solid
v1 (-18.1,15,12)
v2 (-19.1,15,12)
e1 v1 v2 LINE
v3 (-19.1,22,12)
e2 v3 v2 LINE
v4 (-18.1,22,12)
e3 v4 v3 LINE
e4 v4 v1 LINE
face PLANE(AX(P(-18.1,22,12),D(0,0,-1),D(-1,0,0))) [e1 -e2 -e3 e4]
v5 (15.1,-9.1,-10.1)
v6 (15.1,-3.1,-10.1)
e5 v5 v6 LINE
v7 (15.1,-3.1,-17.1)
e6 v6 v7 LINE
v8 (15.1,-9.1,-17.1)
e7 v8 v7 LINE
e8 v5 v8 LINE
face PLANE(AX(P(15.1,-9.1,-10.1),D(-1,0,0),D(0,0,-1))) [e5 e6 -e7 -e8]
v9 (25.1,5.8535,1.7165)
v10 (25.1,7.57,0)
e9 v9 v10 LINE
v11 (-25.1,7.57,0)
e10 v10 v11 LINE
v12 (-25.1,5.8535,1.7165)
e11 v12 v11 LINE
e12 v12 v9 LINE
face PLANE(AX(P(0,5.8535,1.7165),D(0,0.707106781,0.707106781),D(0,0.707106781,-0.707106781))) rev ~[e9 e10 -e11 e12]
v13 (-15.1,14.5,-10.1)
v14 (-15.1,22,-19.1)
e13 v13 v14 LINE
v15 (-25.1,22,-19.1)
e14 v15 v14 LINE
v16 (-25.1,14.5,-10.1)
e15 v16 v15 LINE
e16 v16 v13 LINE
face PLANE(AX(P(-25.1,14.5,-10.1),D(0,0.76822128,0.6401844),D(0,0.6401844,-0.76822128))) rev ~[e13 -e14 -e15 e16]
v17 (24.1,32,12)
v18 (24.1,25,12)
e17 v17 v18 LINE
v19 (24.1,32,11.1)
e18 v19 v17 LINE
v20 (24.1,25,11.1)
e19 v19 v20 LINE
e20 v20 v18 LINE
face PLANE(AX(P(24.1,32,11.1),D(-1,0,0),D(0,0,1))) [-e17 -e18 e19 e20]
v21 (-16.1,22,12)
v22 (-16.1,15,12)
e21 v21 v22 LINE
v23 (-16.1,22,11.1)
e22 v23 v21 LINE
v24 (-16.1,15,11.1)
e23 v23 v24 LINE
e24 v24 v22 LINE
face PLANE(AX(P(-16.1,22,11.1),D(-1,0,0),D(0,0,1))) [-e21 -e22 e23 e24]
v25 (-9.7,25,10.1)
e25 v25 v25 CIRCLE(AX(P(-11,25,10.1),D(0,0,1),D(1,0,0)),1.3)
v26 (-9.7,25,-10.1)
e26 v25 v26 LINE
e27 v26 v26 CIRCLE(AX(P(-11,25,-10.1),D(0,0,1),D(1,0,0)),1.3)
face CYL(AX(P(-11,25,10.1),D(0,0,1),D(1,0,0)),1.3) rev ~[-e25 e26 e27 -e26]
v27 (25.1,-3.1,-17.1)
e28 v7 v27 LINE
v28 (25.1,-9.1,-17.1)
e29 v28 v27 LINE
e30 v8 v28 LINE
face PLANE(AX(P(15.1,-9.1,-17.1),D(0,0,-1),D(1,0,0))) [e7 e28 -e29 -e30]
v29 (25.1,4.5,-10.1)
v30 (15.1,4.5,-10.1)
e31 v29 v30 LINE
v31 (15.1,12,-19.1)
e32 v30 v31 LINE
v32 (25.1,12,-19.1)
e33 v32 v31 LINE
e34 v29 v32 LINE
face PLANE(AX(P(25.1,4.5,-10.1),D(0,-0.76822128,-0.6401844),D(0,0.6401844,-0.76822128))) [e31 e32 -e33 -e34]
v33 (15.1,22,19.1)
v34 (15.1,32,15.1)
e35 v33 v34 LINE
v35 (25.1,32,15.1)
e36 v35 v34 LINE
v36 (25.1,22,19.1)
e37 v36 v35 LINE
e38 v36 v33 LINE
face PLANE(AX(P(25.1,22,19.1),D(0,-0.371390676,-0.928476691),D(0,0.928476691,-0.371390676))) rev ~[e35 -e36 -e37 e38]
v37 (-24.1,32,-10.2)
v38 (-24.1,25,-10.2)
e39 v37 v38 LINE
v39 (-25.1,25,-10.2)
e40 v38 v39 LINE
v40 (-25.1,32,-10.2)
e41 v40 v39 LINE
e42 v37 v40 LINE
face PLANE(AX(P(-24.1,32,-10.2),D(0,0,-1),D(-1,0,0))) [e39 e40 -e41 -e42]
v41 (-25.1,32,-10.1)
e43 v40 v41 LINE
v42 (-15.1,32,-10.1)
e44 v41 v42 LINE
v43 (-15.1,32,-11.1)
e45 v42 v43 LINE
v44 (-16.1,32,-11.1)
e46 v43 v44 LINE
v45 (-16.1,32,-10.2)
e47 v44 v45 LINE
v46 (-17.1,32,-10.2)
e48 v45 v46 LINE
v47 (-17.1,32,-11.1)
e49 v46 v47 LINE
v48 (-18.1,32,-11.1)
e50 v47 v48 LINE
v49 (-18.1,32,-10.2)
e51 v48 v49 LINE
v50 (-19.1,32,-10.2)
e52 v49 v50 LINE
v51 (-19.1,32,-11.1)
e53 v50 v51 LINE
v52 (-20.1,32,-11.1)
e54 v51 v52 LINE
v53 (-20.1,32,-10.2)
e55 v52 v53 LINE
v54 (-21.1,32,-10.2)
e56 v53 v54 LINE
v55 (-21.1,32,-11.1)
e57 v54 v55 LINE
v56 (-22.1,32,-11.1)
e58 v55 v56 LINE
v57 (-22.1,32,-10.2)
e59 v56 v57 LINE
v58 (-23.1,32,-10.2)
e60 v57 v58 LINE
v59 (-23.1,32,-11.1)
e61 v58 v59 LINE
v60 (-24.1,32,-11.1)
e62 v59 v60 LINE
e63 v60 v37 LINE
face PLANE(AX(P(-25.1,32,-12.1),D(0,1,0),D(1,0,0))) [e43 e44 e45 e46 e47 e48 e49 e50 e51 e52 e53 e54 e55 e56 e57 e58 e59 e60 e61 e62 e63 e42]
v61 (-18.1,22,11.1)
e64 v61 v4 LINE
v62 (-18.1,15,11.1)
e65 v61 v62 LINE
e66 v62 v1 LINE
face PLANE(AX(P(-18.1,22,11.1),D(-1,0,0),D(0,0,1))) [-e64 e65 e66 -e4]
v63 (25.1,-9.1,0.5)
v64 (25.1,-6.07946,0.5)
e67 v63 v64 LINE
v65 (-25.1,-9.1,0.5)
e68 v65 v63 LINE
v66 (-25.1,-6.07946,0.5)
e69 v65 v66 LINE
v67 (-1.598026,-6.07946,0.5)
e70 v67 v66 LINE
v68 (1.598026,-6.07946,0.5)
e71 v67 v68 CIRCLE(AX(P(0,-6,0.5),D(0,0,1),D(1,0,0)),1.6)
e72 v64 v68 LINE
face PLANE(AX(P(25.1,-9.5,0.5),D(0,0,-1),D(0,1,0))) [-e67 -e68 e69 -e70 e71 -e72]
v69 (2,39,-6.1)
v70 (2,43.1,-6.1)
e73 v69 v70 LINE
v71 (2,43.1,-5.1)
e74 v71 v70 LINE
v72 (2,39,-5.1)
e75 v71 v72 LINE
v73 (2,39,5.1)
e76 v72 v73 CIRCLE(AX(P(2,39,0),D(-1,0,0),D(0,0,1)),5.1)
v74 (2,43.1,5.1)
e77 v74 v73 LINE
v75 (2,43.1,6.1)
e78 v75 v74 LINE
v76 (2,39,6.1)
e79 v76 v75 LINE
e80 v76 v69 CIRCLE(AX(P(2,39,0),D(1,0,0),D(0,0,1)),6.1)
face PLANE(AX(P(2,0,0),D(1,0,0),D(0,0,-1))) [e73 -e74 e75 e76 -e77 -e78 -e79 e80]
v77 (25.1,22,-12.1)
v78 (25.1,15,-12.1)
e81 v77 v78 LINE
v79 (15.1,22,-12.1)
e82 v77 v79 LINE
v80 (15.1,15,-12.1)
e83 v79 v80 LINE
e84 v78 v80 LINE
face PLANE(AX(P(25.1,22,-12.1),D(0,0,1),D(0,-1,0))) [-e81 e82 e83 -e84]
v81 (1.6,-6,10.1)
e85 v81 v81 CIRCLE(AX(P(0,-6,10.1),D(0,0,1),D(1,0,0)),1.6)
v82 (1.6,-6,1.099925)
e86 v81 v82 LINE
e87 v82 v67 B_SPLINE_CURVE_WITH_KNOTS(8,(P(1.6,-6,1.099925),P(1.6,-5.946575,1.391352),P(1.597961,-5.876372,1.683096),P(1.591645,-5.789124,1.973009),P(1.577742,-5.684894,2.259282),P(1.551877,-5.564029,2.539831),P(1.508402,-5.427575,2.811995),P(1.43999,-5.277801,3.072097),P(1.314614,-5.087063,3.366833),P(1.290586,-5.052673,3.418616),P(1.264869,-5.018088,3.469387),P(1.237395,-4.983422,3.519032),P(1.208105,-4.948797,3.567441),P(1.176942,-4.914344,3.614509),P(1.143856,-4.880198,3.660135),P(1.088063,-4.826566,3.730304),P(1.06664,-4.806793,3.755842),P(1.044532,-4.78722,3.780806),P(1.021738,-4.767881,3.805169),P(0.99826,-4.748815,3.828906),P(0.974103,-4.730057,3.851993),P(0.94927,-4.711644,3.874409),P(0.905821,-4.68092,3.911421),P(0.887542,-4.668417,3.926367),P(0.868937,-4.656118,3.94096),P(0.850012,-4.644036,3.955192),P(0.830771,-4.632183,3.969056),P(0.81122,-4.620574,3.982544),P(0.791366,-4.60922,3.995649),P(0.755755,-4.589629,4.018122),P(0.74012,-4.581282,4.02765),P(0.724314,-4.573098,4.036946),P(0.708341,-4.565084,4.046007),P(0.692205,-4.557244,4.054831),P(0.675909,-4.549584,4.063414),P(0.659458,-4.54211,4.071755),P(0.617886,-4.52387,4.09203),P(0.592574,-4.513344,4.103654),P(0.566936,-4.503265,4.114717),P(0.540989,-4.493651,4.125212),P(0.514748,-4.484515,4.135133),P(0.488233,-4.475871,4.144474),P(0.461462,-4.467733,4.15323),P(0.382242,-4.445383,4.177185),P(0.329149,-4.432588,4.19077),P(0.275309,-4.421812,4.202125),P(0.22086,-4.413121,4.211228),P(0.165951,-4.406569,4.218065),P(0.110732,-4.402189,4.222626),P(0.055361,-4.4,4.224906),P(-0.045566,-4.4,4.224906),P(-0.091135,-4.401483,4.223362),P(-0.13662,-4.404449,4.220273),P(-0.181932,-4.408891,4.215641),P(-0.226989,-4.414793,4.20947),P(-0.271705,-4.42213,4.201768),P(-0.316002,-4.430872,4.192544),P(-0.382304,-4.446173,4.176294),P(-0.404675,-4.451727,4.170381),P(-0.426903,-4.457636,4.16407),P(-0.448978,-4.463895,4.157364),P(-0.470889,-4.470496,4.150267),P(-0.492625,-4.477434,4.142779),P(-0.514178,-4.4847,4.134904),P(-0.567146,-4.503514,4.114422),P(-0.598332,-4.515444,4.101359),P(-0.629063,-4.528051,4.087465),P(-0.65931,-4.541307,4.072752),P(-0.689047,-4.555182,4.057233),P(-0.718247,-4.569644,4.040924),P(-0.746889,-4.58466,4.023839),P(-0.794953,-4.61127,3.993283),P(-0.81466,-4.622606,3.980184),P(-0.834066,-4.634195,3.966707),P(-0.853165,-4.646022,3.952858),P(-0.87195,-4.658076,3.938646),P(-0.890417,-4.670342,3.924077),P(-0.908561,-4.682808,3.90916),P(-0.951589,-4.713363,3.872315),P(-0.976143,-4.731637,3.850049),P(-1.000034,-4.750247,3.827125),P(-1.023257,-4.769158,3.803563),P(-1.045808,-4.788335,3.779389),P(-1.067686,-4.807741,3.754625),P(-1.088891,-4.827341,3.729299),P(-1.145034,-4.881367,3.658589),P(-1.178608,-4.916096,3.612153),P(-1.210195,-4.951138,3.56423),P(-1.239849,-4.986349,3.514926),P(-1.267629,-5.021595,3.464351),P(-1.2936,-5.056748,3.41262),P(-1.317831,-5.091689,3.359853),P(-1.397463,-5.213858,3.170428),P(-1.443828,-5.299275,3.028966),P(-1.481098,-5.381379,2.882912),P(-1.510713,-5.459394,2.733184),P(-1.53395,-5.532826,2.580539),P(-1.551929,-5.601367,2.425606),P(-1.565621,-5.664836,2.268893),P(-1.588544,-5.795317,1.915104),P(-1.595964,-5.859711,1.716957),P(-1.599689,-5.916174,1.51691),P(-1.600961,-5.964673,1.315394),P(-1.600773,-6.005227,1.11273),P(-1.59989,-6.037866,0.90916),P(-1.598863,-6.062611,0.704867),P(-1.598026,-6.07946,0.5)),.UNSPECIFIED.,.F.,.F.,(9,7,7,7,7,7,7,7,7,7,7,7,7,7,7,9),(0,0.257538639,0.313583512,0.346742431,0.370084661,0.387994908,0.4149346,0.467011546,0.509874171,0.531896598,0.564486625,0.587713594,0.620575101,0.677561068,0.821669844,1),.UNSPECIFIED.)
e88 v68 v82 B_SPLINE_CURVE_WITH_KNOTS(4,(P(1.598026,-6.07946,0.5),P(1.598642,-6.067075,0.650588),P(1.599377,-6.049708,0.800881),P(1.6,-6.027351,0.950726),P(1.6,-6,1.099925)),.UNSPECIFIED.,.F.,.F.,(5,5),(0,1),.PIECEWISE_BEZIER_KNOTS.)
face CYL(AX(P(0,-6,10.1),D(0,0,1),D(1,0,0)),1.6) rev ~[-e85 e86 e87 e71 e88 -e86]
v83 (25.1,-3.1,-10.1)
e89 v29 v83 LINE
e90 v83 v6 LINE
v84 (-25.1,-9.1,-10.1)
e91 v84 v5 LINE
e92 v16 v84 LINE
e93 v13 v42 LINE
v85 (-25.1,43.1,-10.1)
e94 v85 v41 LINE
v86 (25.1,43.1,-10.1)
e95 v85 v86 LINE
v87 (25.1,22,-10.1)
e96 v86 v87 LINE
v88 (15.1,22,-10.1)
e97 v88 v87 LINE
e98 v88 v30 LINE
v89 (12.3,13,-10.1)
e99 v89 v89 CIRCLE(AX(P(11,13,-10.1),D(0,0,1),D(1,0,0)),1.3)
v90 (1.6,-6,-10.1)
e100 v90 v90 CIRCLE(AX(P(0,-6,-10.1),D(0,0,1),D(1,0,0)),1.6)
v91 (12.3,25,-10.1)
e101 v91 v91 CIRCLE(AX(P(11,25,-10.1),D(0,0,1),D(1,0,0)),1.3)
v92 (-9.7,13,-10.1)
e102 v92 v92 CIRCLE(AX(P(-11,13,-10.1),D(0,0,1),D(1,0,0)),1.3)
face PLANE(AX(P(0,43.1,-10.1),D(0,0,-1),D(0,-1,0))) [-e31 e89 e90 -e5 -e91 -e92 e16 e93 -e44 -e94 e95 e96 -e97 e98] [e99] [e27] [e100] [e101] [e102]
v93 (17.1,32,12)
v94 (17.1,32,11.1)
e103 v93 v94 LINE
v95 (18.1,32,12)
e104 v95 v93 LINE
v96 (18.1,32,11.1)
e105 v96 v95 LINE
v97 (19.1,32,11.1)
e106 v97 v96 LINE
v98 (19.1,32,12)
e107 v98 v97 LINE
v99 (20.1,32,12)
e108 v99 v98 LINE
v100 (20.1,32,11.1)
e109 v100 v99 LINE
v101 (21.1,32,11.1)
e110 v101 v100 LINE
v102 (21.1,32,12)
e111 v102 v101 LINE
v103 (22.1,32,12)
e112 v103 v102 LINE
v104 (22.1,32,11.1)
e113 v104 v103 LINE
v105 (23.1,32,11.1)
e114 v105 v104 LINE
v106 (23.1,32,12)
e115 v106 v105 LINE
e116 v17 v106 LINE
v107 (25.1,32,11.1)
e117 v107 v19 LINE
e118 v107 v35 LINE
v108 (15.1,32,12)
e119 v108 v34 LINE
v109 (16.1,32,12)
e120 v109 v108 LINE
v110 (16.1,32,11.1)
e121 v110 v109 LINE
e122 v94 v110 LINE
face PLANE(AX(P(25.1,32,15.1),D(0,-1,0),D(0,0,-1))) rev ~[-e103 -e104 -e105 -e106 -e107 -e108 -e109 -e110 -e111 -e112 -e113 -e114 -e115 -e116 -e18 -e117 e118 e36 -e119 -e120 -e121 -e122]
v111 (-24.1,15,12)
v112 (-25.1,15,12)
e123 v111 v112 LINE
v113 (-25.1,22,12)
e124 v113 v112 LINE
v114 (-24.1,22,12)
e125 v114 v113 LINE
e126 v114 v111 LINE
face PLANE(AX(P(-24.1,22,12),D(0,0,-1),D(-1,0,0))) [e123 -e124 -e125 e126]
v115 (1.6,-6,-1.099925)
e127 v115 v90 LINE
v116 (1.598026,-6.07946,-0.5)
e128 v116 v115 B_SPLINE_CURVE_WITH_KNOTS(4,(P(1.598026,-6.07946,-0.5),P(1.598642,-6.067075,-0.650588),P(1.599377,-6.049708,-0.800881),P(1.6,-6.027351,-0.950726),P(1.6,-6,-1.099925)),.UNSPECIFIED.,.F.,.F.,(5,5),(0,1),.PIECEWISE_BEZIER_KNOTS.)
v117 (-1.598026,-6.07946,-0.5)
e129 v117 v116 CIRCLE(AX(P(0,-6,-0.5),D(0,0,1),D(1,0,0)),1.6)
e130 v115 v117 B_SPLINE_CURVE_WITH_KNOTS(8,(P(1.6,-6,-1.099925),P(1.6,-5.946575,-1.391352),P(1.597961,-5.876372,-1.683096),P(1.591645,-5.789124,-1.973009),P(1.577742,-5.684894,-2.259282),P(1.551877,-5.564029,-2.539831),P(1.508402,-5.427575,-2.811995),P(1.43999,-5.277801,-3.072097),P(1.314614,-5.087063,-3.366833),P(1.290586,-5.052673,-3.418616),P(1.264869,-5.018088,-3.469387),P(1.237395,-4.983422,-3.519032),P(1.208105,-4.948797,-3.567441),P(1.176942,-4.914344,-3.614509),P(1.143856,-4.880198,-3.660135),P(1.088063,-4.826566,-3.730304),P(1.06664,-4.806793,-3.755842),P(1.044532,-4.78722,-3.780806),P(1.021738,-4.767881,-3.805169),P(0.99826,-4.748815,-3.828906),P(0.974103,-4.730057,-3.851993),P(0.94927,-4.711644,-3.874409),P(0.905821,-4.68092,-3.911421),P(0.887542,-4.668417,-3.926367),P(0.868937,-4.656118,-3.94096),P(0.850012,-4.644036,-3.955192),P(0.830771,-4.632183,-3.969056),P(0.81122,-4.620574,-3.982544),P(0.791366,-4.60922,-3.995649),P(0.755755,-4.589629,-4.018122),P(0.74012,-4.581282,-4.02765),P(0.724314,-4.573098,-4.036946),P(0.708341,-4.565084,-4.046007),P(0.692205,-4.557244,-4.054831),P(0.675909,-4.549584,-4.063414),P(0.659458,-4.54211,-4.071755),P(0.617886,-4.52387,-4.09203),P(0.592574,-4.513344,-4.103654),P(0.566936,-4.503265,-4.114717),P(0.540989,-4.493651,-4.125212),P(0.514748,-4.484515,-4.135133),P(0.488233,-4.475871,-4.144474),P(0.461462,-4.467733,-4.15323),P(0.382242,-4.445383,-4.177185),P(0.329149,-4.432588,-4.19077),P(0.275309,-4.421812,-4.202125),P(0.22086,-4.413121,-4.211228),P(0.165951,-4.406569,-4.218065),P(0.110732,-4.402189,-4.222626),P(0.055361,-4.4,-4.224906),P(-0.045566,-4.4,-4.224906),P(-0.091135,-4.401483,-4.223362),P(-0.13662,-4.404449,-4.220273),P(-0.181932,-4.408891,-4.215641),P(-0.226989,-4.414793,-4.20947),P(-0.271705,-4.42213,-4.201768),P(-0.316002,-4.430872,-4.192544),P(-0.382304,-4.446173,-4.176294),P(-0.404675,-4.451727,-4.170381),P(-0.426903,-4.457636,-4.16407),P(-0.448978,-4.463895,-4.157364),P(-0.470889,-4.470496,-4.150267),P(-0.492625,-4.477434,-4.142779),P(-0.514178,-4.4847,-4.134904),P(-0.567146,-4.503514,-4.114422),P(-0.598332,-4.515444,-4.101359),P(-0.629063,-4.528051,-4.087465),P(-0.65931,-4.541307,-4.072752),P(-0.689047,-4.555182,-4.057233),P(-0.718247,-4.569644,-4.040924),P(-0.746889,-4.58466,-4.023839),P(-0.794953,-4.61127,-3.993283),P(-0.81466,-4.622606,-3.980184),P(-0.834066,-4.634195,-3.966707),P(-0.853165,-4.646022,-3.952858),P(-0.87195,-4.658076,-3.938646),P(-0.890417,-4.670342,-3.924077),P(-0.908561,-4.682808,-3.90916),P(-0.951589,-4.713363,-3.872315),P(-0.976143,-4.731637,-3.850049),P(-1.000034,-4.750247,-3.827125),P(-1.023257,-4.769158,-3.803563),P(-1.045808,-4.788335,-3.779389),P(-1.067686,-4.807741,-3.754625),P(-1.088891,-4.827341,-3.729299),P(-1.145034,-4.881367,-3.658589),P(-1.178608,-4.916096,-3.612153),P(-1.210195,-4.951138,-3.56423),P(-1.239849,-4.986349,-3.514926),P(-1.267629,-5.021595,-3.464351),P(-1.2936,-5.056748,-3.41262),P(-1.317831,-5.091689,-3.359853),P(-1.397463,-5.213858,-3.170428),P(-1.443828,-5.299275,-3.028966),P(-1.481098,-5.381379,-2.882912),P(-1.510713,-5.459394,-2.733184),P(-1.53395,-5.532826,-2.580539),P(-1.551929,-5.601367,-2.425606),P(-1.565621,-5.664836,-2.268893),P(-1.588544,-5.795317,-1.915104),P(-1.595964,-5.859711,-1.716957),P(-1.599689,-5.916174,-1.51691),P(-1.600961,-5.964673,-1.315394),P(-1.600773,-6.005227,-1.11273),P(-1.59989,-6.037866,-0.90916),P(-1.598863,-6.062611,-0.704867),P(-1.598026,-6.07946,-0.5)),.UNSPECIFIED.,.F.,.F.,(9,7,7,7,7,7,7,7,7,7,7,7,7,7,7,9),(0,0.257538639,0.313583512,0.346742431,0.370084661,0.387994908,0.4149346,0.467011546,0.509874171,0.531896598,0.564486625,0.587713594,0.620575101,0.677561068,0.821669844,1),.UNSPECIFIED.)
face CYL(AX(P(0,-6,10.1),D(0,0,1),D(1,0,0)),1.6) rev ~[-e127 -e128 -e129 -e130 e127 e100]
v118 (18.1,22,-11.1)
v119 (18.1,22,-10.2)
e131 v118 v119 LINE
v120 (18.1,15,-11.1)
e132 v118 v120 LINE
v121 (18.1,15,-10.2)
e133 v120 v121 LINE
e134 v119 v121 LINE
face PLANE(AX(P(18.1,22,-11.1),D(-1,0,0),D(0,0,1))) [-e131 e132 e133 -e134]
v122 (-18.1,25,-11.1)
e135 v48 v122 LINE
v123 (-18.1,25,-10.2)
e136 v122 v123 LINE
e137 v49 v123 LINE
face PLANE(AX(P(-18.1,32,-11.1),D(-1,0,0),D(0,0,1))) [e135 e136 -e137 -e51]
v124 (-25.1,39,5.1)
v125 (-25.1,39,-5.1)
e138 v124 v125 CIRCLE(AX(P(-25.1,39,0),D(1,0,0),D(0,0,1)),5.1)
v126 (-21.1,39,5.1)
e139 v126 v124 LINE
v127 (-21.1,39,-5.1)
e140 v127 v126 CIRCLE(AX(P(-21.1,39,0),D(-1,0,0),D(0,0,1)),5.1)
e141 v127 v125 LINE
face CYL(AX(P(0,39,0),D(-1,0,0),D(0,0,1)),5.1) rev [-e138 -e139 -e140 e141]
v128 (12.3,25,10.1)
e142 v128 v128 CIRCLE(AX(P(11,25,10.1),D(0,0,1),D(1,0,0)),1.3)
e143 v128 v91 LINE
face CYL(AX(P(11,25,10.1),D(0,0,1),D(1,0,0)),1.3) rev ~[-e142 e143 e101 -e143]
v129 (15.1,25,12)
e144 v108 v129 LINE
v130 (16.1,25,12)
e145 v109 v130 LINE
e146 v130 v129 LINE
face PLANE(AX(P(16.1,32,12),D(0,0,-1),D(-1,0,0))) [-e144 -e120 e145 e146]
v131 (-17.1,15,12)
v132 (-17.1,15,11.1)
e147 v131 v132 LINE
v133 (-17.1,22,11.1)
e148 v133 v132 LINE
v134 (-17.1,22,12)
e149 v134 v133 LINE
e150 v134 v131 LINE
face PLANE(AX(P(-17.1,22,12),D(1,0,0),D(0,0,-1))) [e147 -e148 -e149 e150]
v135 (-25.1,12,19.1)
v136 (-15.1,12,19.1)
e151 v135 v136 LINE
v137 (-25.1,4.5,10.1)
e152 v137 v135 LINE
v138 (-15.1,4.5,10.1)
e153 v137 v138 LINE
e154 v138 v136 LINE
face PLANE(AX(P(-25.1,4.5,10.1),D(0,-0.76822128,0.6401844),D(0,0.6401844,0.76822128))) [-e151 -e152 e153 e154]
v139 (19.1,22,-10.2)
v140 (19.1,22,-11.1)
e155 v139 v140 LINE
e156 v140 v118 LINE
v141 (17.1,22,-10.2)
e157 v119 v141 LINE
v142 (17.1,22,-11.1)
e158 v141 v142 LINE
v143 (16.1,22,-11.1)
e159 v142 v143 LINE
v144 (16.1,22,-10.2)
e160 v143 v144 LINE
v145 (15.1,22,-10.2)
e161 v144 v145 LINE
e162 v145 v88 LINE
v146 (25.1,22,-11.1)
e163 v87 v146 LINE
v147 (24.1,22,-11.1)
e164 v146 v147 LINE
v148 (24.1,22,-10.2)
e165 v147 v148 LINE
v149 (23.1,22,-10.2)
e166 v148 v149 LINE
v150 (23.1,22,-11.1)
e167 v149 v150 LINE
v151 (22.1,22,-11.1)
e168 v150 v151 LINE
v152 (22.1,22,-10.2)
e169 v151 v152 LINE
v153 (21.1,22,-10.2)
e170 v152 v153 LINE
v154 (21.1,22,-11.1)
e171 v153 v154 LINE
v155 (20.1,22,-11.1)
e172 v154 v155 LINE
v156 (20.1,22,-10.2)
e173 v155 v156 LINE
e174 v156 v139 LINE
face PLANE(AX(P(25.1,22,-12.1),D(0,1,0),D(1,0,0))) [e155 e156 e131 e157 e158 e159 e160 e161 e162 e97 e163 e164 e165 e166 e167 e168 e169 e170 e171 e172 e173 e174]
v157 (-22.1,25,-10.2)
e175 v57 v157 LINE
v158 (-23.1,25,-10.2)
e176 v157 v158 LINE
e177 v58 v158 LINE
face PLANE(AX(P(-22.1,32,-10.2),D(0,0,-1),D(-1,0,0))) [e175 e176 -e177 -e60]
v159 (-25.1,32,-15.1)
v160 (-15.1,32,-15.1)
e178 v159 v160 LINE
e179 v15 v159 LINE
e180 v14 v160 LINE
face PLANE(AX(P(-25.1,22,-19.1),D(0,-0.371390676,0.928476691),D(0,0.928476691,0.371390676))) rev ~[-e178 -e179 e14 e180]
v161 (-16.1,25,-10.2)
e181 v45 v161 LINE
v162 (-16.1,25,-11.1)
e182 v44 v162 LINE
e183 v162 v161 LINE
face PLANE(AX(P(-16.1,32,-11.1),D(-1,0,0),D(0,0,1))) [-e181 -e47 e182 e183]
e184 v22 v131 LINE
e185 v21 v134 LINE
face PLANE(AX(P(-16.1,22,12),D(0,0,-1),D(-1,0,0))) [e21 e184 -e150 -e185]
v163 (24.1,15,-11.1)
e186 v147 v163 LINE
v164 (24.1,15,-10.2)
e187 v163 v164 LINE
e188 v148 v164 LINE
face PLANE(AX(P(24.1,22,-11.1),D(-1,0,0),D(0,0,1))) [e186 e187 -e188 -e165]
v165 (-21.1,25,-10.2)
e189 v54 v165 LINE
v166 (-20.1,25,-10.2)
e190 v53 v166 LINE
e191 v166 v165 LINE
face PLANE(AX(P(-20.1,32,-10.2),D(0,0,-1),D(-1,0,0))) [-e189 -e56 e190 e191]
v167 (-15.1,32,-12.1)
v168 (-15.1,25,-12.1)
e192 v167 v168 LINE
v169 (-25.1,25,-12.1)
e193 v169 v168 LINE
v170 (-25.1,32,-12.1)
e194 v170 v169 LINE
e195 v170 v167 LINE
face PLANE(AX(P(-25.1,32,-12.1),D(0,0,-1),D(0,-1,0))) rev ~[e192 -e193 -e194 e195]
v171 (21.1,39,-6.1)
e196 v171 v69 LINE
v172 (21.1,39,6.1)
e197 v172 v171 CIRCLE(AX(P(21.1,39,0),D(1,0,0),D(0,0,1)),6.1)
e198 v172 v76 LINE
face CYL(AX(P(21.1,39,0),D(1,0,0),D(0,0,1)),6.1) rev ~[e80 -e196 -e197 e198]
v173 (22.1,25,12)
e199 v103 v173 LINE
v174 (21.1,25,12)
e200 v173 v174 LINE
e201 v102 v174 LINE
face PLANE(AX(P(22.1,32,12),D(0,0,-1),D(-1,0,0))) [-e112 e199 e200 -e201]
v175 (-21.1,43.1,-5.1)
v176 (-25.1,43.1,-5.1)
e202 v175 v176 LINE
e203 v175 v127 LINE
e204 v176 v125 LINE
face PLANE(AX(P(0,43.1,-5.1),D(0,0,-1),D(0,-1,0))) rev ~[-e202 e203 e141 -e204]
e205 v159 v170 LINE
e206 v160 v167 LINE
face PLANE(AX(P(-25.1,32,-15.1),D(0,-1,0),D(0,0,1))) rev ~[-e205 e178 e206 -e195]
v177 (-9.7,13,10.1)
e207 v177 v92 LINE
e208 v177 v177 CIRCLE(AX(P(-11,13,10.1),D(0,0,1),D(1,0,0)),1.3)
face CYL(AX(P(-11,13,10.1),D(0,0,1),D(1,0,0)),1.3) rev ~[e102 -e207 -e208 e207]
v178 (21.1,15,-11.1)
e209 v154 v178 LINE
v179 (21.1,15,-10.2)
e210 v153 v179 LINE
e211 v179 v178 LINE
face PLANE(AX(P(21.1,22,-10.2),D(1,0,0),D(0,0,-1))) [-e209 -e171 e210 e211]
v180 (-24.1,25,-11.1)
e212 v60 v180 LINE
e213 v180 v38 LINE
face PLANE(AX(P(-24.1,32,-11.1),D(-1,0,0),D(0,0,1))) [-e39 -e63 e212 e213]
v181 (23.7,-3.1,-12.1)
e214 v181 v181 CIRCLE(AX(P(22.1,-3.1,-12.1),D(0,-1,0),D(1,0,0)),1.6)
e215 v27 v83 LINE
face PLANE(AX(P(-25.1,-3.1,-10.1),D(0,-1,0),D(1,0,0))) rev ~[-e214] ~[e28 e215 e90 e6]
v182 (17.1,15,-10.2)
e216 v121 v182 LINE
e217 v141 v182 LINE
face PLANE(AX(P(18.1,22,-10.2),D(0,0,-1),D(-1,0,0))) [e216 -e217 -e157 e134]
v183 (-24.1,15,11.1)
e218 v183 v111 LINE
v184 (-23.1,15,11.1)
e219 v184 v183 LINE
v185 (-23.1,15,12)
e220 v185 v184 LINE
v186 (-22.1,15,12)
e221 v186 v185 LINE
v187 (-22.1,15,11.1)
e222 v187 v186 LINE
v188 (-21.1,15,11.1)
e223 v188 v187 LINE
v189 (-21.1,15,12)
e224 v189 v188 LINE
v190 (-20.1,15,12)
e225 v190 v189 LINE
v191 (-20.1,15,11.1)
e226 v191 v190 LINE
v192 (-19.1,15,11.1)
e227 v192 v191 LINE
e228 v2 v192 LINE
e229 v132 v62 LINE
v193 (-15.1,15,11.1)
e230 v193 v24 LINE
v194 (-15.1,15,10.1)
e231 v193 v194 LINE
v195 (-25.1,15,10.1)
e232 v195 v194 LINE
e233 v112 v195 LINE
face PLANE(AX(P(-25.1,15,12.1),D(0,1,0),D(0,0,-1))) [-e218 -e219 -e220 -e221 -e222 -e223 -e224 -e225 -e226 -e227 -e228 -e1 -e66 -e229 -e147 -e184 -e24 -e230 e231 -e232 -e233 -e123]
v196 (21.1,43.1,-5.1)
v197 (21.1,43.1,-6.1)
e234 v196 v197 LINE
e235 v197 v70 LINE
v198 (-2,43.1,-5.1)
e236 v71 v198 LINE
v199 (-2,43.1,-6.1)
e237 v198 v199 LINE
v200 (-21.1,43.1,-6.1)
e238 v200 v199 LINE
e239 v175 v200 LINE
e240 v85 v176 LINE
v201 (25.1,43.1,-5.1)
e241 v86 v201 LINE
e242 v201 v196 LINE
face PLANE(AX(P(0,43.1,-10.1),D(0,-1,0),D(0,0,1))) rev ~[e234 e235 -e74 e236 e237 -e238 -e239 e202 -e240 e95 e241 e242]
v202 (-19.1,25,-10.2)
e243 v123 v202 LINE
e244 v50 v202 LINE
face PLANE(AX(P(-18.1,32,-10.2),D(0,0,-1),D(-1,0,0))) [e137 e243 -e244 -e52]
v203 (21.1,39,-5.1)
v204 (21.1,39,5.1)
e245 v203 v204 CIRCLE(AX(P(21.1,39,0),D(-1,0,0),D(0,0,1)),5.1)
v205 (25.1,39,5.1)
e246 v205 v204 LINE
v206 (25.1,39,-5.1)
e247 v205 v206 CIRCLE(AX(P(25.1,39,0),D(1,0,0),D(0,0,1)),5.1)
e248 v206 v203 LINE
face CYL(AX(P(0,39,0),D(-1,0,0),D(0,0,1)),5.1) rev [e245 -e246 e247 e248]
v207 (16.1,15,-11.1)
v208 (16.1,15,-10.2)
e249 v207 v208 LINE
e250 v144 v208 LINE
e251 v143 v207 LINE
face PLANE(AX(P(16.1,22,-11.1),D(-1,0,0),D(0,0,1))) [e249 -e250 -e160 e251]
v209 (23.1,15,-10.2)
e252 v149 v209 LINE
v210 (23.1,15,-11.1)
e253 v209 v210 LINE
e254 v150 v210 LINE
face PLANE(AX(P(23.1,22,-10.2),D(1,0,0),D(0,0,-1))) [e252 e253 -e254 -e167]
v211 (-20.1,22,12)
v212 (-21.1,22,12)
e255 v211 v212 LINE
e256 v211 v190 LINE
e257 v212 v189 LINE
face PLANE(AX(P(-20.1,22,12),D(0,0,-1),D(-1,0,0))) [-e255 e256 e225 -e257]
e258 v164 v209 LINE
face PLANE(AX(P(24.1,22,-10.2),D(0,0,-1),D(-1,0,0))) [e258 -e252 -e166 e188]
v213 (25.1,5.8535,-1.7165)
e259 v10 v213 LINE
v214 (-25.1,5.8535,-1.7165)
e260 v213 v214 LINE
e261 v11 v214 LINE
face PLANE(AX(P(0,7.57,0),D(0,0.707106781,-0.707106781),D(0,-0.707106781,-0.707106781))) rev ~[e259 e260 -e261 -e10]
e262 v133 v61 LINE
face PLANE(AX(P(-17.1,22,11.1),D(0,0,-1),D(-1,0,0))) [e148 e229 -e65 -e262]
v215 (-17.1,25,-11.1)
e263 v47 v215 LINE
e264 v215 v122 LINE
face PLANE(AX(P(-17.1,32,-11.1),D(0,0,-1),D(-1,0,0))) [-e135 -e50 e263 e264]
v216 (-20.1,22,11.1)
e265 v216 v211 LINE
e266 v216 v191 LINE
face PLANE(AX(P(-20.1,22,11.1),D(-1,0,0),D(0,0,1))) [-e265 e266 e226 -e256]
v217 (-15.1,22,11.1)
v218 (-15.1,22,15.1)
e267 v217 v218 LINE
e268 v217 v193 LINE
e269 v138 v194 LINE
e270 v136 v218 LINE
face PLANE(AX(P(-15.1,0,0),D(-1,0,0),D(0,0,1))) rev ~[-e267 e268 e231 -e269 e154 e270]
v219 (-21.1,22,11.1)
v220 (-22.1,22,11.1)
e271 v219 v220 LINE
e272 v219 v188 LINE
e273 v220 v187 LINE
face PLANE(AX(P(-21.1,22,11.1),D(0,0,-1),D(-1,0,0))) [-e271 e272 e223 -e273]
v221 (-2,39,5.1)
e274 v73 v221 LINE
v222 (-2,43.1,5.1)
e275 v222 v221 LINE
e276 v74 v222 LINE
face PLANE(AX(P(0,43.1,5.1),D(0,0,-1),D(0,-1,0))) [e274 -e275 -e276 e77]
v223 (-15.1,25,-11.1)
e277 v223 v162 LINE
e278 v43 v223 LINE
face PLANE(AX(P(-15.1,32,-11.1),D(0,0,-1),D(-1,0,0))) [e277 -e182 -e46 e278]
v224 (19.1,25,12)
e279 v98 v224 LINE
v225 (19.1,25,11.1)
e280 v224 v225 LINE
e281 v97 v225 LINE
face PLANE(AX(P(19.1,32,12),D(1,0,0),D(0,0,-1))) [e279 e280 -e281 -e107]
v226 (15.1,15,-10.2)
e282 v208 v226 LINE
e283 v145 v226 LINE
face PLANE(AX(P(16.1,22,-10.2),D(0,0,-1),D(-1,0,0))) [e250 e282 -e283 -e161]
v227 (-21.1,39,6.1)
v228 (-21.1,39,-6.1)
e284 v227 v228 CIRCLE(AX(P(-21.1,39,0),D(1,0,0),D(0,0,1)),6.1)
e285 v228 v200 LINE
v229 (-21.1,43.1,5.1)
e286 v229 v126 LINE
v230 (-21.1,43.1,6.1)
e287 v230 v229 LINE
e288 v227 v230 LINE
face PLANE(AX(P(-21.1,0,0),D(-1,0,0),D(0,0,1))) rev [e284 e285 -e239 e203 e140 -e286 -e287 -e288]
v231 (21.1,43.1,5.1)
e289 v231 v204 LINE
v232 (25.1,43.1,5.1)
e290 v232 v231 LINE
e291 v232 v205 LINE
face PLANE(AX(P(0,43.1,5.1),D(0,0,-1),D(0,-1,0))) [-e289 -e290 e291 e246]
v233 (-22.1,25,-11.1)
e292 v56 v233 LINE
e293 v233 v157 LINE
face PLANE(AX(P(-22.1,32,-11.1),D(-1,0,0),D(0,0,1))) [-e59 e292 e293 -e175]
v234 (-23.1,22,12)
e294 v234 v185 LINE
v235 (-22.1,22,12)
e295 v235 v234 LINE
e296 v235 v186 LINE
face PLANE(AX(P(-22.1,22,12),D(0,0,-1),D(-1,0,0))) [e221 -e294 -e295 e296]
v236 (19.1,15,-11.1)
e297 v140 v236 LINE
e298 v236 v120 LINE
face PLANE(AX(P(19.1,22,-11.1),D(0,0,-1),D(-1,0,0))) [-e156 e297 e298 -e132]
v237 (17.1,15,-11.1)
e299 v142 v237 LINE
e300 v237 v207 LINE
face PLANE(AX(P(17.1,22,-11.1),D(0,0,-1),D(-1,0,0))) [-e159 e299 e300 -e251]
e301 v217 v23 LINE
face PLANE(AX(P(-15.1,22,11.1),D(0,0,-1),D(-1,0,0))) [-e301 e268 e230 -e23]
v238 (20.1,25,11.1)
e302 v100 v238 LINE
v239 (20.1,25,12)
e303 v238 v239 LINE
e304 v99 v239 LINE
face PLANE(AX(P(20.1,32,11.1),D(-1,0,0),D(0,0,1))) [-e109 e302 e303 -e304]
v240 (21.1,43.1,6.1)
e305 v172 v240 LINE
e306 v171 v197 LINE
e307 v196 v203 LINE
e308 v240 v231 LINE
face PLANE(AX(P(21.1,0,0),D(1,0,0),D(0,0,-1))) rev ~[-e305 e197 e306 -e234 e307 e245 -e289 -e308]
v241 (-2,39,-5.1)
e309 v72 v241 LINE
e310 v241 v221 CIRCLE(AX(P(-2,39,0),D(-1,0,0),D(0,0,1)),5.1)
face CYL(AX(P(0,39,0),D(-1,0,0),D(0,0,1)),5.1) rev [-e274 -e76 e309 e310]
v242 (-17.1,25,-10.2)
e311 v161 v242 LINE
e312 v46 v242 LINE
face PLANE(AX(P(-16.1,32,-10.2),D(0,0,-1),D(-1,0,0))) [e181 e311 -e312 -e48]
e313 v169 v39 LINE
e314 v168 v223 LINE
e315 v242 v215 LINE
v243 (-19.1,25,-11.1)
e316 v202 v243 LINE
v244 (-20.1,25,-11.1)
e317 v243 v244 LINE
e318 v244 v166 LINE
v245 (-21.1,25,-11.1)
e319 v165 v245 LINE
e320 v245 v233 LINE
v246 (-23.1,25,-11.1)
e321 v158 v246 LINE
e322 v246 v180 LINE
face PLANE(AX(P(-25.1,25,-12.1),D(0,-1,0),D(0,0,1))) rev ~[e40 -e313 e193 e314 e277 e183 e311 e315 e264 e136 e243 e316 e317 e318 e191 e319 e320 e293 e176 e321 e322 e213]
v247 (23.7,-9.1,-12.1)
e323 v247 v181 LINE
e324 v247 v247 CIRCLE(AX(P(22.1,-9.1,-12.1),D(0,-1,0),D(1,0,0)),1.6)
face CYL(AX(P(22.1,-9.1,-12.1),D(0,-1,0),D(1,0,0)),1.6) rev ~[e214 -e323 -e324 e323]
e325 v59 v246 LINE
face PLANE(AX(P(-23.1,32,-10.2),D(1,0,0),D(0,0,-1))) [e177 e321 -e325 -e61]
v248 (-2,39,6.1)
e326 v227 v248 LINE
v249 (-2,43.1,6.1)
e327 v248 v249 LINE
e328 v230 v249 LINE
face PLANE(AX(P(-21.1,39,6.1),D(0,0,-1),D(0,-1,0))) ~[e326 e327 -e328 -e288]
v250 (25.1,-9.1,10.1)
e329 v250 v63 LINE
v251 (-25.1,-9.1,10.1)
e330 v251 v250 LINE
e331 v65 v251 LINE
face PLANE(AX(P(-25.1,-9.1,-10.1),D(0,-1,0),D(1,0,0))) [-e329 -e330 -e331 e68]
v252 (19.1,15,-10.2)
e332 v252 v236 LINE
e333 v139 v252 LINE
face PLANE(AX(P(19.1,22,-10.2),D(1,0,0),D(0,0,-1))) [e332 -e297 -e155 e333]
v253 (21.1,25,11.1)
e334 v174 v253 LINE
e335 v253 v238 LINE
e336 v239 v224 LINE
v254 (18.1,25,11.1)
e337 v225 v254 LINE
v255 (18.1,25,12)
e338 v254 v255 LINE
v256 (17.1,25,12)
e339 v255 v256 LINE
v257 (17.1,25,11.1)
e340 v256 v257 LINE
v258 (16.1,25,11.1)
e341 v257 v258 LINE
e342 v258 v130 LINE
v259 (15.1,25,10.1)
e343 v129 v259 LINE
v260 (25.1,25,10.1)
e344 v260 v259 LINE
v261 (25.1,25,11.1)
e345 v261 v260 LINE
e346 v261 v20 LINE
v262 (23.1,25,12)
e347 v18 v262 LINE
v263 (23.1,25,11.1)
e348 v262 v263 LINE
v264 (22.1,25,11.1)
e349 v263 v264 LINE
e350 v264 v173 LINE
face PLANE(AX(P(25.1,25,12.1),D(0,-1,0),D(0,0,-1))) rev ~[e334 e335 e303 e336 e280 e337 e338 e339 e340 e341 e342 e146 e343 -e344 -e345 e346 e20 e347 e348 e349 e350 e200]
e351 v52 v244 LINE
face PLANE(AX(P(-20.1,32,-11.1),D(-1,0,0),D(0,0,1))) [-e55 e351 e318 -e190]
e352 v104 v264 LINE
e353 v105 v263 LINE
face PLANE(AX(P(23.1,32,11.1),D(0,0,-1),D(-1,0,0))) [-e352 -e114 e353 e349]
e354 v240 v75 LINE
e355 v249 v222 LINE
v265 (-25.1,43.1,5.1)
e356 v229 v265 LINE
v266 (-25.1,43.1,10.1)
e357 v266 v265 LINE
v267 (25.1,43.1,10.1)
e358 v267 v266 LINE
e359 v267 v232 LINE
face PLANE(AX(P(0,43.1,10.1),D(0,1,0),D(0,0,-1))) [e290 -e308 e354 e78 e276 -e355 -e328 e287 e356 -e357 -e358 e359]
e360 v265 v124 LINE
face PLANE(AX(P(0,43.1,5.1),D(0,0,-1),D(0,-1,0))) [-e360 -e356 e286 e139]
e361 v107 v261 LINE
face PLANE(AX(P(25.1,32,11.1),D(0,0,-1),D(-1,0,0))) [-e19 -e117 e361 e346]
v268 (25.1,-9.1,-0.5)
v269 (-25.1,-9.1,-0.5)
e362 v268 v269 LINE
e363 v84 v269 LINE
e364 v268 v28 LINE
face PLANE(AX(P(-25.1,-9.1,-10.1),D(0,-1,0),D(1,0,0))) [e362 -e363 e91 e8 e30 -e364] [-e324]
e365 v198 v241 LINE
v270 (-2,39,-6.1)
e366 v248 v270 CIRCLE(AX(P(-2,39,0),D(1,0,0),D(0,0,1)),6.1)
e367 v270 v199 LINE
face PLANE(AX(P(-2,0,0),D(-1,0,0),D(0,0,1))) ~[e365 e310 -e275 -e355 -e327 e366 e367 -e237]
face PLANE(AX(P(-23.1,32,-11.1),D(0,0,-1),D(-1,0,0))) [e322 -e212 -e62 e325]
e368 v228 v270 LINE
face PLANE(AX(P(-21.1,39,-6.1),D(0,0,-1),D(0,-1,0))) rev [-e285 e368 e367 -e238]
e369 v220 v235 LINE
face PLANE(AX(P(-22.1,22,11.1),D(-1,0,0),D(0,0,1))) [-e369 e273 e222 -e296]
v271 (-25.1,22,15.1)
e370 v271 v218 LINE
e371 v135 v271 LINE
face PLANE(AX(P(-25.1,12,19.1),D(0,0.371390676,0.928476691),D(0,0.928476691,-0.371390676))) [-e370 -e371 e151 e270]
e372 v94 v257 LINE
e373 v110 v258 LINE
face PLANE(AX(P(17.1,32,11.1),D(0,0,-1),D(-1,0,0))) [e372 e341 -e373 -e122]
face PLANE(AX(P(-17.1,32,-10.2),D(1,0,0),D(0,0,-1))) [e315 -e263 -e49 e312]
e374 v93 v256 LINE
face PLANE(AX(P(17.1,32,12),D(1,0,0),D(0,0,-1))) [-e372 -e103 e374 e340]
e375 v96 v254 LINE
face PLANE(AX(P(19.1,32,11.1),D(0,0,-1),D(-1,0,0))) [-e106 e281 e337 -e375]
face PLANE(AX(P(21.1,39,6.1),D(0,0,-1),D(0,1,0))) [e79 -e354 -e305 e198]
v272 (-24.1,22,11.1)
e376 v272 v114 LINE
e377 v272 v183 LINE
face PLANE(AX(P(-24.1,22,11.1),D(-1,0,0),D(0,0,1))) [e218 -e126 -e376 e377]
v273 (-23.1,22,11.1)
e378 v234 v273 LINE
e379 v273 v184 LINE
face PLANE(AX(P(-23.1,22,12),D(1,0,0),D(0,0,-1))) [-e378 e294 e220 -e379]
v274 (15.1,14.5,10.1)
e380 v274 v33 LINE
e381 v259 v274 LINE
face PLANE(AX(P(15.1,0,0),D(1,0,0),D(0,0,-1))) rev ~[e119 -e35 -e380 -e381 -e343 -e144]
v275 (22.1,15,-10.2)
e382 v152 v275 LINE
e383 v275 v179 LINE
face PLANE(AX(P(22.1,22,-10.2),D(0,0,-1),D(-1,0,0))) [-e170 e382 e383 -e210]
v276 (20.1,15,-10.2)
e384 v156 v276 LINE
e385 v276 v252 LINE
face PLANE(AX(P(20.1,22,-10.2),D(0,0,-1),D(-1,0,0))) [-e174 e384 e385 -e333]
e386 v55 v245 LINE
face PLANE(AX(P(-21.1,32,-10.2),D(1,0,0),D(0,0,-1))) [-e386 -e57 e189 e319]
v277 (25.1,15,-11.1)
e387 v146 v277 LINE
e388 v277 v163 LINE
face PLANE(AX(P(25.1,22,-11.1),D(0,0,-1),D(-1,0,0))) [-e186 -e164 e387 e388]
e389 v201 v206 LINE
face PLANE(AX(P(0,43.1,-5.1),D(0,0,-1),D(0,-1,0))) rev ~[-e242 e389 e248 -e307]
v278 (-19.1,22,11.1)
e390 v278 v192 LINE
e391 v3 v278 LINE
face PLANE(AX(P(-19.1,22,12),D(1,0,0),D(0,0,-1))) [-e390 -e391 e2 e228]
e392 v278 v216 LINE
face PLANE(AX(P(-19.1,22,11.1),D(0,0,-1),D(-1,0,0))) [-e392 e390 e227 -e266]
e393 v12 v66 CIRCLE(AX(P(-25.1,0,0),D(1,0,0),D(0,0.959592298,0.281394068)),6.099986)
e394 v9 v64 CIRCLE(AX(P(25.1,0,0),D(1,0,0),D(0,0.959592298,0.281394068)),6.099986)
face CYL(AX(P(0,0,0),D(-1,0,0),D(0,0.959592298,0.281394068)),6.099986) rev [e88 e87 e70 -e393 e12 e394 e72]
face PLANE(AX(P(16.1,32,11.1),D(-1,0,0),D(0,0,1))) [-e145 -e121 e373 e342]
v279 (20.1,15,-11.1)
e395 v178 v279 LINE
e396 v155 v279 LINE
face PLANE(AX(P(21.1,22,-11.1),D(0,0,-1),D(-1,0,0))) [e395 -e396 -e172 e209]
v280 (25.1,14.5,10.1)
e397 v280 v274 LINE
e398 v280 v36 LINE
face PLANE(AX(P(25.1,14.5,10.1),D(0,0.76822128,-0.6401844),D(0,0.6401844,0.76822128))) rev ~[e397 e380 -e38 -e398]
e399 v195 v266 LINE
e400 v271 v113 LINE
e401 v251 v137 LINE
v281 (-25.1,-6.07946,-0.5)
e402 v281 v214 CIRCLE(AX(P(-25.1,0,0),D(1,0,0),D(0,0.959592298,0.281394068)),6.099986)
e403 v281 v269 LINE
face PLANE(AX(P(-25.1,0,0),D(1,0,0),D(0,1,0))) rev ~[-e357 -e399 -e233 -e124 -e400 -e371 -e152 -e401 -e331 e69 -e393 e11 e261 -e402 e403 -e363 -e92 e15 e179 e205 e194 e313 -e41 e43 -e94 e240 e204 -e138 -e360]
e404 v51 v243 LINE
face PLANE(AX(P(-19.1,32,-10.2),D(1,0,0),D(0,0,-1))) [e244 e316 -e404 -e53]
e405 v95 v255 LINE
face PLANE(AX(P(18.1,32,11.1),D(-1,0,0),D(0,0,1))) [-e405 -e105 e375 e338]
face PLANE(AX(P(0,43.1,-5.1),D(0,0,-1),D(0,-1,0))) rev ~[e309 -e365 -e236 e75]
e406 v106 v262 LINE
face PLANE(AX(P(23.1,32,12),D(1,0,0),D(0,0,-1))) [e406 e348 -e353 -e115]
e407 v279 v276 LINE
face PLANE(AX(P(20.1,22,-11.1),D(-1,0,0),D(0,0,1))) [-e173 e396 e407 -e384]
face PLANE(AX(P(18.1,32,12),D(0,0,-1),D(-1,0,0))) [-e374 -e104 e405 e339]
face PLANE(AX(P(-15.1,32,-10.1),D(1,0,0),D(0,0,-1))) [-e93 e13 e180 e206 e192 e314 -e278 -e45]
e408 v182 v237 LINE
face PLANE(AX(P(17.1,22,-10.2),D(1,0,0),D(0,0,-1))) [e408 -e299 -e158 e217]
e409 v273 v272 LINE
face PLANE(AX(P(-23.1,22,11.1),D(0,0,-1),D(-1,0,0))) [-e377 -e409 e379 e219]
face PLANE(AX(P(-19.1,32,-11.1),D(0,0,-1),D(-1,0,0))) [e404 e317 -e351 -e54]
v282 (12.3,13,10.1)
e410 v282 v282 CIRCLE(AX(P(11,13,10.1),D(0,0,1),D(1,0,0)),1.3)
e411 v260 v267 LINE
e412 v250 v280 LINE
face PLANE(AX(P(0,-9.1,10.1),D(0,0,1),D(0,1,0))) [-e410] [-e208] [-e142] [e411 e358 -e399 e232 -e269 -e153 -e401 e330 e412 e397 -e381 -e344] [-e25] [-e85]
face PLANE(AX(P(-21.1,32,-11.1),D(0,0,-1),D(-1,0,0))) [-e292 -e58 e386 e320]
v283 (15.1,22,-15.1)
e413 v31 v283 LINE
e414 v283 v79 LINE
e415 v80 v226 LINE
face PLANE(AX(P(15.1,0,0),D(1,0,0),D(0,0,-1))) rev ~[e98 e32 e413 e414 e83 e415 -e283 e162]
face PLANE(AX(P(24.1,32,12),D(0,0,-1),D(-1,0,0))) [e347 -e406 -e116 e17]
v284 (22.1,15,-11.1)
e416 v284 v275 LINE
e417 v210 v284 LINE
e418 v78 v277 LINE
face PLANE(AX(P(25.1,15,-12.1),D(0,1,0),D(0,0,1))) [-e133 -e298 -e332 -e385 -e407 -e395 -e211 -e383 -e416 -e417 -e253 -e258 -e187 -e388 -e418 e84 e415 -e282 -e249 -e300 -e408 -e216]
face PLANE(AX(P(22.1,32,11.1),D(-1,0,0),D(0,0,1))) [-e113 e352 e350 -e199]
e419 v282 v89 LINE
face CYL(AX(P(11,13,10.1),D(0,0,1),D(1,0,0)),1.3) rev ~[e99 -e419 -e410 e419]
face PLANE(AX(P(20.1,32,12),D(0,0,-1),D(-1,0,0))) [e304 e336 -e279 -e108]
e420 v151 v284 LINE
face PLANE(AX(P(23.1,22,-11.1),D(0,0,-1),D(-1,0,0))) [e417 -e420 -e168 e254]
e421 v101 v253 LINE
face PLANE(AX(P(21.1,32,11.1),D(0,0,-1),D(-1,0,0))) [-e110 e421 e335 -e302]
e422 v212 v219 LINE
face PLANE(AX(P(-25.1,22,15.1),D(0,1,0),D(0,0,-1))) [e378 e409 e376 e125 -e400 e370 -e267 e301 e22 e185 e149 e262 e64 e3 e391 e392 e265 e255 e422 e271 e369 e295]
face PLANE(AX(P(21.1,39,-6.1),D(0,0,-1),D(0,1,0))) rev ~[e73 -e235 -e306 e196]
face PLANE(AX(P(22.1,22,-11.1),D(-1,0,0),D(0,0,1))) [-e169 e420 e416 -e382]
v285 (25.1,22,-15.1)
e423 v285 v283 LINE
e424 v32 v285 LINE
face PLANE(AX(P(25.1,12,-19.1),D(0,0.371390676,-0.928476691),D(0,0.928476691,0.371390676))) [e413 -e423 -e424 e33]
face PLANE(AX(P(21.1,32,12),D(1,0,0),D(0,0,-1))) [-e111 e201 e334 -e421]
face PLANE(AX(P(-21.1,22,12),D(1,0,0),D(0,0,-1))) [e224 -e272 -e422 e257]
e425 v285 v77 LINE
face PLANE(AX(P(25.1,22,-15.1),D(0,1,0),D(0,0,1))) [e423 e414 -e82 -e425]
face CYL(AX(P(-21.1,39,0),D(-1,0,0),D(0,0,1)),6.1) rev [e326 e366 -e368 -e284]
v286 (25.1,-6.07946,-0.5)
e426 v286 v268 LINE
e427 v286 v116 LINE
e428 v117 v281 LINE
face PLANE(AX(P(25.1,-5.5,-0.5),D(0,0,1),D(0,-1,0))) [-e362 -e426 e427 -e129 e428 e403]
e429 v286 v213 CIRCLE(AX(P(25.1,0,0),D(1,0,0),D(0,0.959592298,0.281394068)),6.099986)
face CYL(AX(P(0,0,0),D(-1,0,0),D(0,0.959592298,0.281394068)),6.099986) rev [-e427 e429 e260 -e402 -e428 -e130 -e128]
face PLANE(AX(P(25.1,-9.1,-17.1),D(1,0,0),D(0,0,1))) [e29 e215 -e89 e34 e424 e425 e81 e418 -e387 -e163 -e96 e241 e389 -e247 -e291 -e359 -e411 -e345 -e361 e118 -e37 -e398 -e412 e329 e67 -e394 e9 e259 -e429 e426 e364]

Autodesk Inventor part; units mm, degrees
ref_plane "YZ Plane" through (0, 0, 0) normal (1, 0, 0) x (0, 1, 0)
ref_plane "XZ Plane" through (0, 0, 0) normal (0, 1, 0) x (-1, 0, 0)
sketch "Sketch1" plane through (0, 0, 0) normal (1, 0, 0) x (0, 1, 0)
  arc A0 (5.8535, 1.7165) -> (5.8535, -1.7165) centre (0, 0) ccw
  line L0 (5.8535, 1.7165) -> (7.57, 0)
  line L1 (7.57, 0) -> (5.8535, -1.7165)
  line L2 (-9.1, 10.1) -> (43.1, 10.1)
  line L3 (43.1, -10.1) -> (-9.1, -10.1)
  line L4 (-9.1, -10.1) -> (-9.1, 10.1)
  arc A1 (39, 5.1) -> (39, -5.1) centre (39, 0) ccw
  line L5 (43.1, -10.1) -> (43.1, -5.1)
  line L6 (43.1, -5.1) -> (39, -5.1)
  line L7 (43.1, 10.1) -> (43.1, 5.1)
  line L8 (43.1, 5.1) -> (39, 5.1)
  point P0 (-9.1, 0)
  dimension "d0" = 6.1
  dimension "d1" = 7.57
  dimension "d2" = 90
  dimension "d3" = 20.2
  dimension "d4" = 52.2
  dimension "d5" = 9.1
  dimension "d6" = 5.1
  dimension "d7" = 39
extrude "Extrusion1" add sketch "Sketch1" along normal mid plane 50.2
sketch "Sketch2" plane through (-25.1, -9.1, -10.1) normal (0, -1, 0) x (1, 0, 0)
  line L0 (50.2, 0) -> (40.2, 0)
  line L1 (40.2, 0) -> (40.2, -7)
  line L2 (40.2, -7) -> (50.2, -7)
  line L3 (50.2, -7) -> (50.2, 0)
  circle A0 centre (47.2, -2) radius 1.6
  point P0 (25.1, 10.1)
  dimension "d10" = 10
  dimension "d11" = 7
  dimension "d14" = 3.2
  dimension "d15" = 3
  dimension "d16" = 5
extrude "Extrusion3" add sketch "Sketch2" against normal blind 6
ref_plane "Work Plane1" through (21.1, 0, 0) normal (1, 0, 0) x (0, 0, -1)
sketch "Sketch3" plane through (21.1, 0, 0) normal (1, 0, 0) x (0, 0, -1)
  arc A0 (-5.1, 39) -> (5.1, 39) centre (0, 39) ccw construction
  arc A1 (-6.1, 39) -> (6.1, 39) centre (0, 39) ccw
  line L0 (-6.1, 39) -> (-6.1, 43.1)
  line L1 (-5.1, 43.1) -> (-10.1, 43.1) construction
  line L2 (6.1, 39) -> (6.1, 43.1)
  line L3 (10.1, 43.1) -> (5.1, 43.1) construction
  line L4 (-6.1, 43.1) -> (6.1, 43.1)
  point P0 (0, 0)
  dimension "d20" = 6.1
extrude "Extrusion4" cut sketch "Sketch3" against normal blind 19.1
mirror "Mirror1" about plane through (0, 0, 0) normal (1, 0, 0) of "Extrusion4"
sketch "Sketch4" plane through (25.1, 0, 0) normal (1, 0, 0) x (0, 0, -1)
  line L0 (10.1, -3.1) -> (10.1, 43.1) projected
  line L1 (10.1, 4.5) -> (19.1, 12)
  line L2 (19.1, 12) -> (15.1, 22)
  line L3 (15.1, 22) -> (12.1, 22)
  line L4 (12.1, 22) -> (12.1, 15)
  line L5 (12.1, 15) -> (10.1, 15)
  line L6 (10.1, 15) -> (10.1, 4.5)
  line L7 (10.1, -3.1) -> (17.1, -3.1) projected
  line L8 (17.1, -9.1) -> (17.1, -3.1) projected
  point P0 (0, 0)
  dimension "d23" = 7.6
  dimension "d24" = 15.1
  dimension "d25" = 2
  dimension "d26" = 10
  dimension "d27" = 4
  dimension "d28" = 3
  dimension "d30" = 7
extrude "Extrusion5" add sketch "Sketch4" against normal blind 10
pattern_circular "Circular Pattern1" count 2 over 360 about axis through (0, -10, 0) along (0, 1, 0) of "Extrusion5"
sketch "Sketch5" plane through (-25.1, 0, 0) normal (-1, 0, 0) x (0, 0, 1)
  line L0 (-10.1, 43.1) -> (-10.1, -9.1) projected
  line L1 (-10.1, 14.5) -> (-19.1, 22)
  line L2 (-19.1, 22) -> (-15.1, 32)
  line L3 (-15.1, 32) -> (-12.1, 32)
  line L4 (-12.1, 32) -> (-12.1, 25)
  line L5 (-12.1, 25) -> (-10.1, 25)
  line L6 (-10.1, 25) -> (-10.1, 14.5)
  point P0 (0, 0)
  dimension "d42" = 14.5
  dimension "d43" = 7.5
  dimension "d44" = 9
  dimension "d45" = 10
  dimension "d46" = 4
  dimension "d47" = 3
  dimension "d48" = 7
extrude "Extrusion6" add sketch "Sketch5" against normal blind 10
pattern_circular "Circular Pattern2" count 2 over 360 about axis through (0, -10, 0) along (0, 1, 0) of "Extrusion6"
sketch "Sketch6" plane through (-25.1, 32, -12.1) normal (0, 1, 0) x (1, 0, 0)
  line L0 (10, -2) -> (10, -1)
  line L1 (10, -2) -> (10, 7) projected
  line L2 (10, -1) -> (9, -1)
  line L3 (9, -1) -> (9, -1.9)
  line L4 (9, -1.9) -> (8, -1.9)
  line L5 (8, -1.9) -> (8, -1)
  line L6 (8, -1) -> (7, -1)
  line L7 (7, -1) -> (7, -1.9)
  line L8 (7, -1.9) -> (6, -1.9)
  line L9 (6, -1.9) -> (6, -1)
  line L10 (6, -1) -> (5, -1)
  line L11 (5, -1) -> (5, -1.9)
  line L12 (5, -1.9) -> (4, -1.9)
  line L13 (4, -1.9) -> (4, -1)
  line L14 (4, -1) -> (3, -1)
  line L15 (3, -1) -> (3, -1.9)
  line L16 (3, -1.9) -> (2, -1.9)
  line L17 (2, -1.9) -> (2, -1)
  line L18 (2, -1) -> (1, -1)
  line L19 (1, -1) -> (1, -1.9)
  line L20 (1, -1.9) -> (0, -1.9)
  line L21 (0, -1.9) -> (0, -2)
  line L22 (0, -2) -> (10, -2)
  line L23 (50.2, -24.2) -> (50.2, -23.2)
  line L24 (50.2, -23.2) -> (49.2, -23.2)
  line L25 (49.2, -23.2) -> (49.2, -24.1)
  line L26 (49.2, -24.1) -> (48.2, -24.1)
  line L27 (48.2, -24.1) -> (48.2, -23.2)
  line L28 (48.2, -23.2) -> (47.2, -23.2)
  line L29 (47.2, -23.2) -> (47.2, -24.1)
  line L30 (47.2, -24.1) -> (46.2, -24.1)
  line L31 (46.2, -24.1) -> (46.2, -23.2)
  line L32 (46.2, -23.2) -> (45.2, -23.2)
  line L33 (45.2, -23.2) -> (45.2, -24.1)
  line L34 (45.2, -24.1) -> (44.2, -24.1)
  line L35 (44.2, -24.1) -> (44.2, -23.2)
  line L36 (44.2, -23.2) -> (43.2, -23.2)
  line L37 (43.2, -23.2) -> (43.2, -24.1)
  line L38 (43.2, -24.1) -> (42.2, -24.1)
  line L39 (42.2, -24.1) -> (42.2, -23.2)
  line L40 (42.2, -23.2) -> (41.2, -23.2)
  line L41 (41.2, -23.2) -> (41.2, -24.1)
  line L42 (41.2, -24.1) -> (40.2, -24.1)
  line L43 (40.2, -27.2) -> (40.2, -24.2) projected
  line L44 (40.2, -24.1) -> (40.2, -24.2)
  line L45 (40.2, -24.2) -> (50.2, -24.2)
  point P0 (25.1, -12.1)
  dimension "d54" = 1
  dimension "d55" = 1
  dimension "d56" = 0.9
  dimension "d57" = 1
  dimension "d58" = 0.9
  dimension "d59" = 1
  dimension "d60" = 0.9
  dimension "d61" = 1
  dimension "d62" = 0.9
  dimension "d63" = 1
  dimension "d64" = 0.9
  dimension "d65" = 1
  dimension "d66" = 0.9
  dimension "d67" = 1
  dimension "d68" = 0.9
  dimension "d69" = 1
  dimension "d70" = 0.9
  dimension "d71" = 1
  dimension "d72" = 0.9
  dimension "d73" = 1
  dimension "d74" = 0.1
  dimension "d75" = 1
  dimension "d76" = 1
  dimension "d77" = 0.9
  dimension "d78" = 1
  dimension "d79" = 0.9
  dimension "d80" = 1
  dimension "d81" = 0.9
  dimension "d82" = 1
  dimension "d83" = 0.9
  dimension "d84" = 1
  dimension "d85" = 0.9
  dimension "d86" = 1
  dimension "d87" = 0.9
  dimension "d88" = 1
  dimension "d89" = 0.9
  dimension "d90" = 1
  dimension "d91" = 0.9
  dimension "d92" = 1
  dimension "d93" = 0.9
  dimension "d94" = 1
  dimension "d95" = 0.1
extrude "Extrusion7" add sketch "Sketch6" against normal blind 7
sketch "Sketch7" plane through (25.1, 22, -12.1) normal (0, 1, 0) x (1, 0, 0)
  line L0 (0, -2) -> (0, -1)
  line L1 (0, 0) -> (0, -2) projected
  line L2 (0, -1) -> (-1, -1)
  line L3 (-1, -1) -> (-1, -1.9)
  line L4 (-1, -1.9) -> (-2, -1.9)
  line L5 (-2, -1.9) -> (-2, -1)
  line L6 (-2, -1) -> (-3, -1)
  line L7 (-3, -1) -> (-3, -1.9)
  line L8 (-3, -1.9) -> (-4, -1.9)
  line L9 (-4, -1.9) -> (-4, -1)
  line L10 (-4, -1) -> (-5, -1)
  line L11 (-5, -1) -> (-5, -1.9)
  line L12 (-5, -1.9) -> (-6, -1.9)
  line L13 (-6, -1.9) -> (-6, -1)
  line L14 (-6, -1) -> (-7, -1)
  line L15 (-7, -1) -> (-7, -1.9)
  line L16 (-7, -1.9) -> (-8, -1.9)
  line L17 (-8, -1.9) -> (-8, -1)
  line L18 (-8, -1) -> (-9, -1)
  line L19 (-9, -1) -> (-9, -1.9)
  line L20 (-9, -1.9) -> (-10, -1.9)
  line L21 (-10, -1.9) -> (-10, -2)
  line L22 (-10, -2) -> (0, -2)
  line L23 (-40.2, -24.2) -> (-40.2, -23.2)
  line L24 (-40.2, -23.2) -> (-41.2, -23.2)
  line L25 (-41.2, -23.2) -> (-41.2, -24.1)
  line L26 (-50.2, -24.2) -> (-40.2, -24.2) projected
  line L27 (-41.2, -24.1) -> (-42.2, -24.1)
  line L28 (-42.2, -24.1) -> (-42.2, -23.2)
  line L29 (-42.2, -23.2) -> (-43.2, -23.2)
  line L30 (-43.2, -23.2) -> (-43.2, -24.1)
  line L31 (-43.2, -24.1) -> (-44.2, -24.1)
  line L32 (-44.2, -24.1) -> (-44.2, -23.2)
  line L33 (-44.2, -23.2) -> (-45.2, -23.2)
  line L34 (-45.2, -23.2) -> (-45.2, -24.1)
  line L35 (-45.2, -24.1) -> (-46.2, -24.1)
  line L36 (-46.2, -24.1) -> (-46.2, -23.2)
  line L37 (-46.2, -23.2) -> (-47.2, -23.2)
  line L38 (-47.2, -23.2) -> (-47.2, -24.1)
  line L39 (-47.2, -24.1) -> (-48.2, -24.1)
  line L40 (-48.2, -24.1) -> (-48.2, -23.2)
  line L41 (-48.2, -23.2) -> (-49.2, -23.2)
  line L42 (-49.2, -23.2) -> (-49.2, -24.1)
  line L43 (-49.2, -24.1) -> (-50.2, -24.1)
  line L44 (-50.2, -24.1) -> (-50.2, -24.2)
  line L45 (-50.2, -24.2) -> (-40.2, -24.2)
  point P0 (-25.1, -12.1)
  dimension "d98" = 1
  dimension "d99" = 1
  dimension "d100" = 0.9
  dimension "d101" = 1
  dimension "d102" = 0.9
  dimension "d103" = 1
  dimension "d104" = 0.9
  dimension "d105" = 1
  dimension "d106" = 0.9
  dimension "d107" = 1
  dimension "d108" = 0.9
  dimension "d109" = 1
  dimension "d110" = 0.9
  dimension "d111" = 1
  dimension "d112" = 0.9
  dimension "d113" = 1
  dimension "d114" = 0.9
  dimension "d115" = 1
  dimension "d116" = 0.9
  dimension "d117" = 1
  dimension "d118" = 0.1
  dimension "d119" = 1
  dimension "d120" = 1
  dimension "d121" = 0.9
  dimension "d123" = 1
  dimension "d124" = 0.9
  dimension "d125" = 1
  dimension "d126" = 0.9
  dimension "d127" = 1
  dimension "d128" = 0.9
  dimension "d129" = 1
  dimension "d130" = 0.9
  dimension "d131" = 1
  dimension "d132" = 0.9
  dimension "d133" = 1
  dimension "d134" = 0.9
  dimension "d135" = 1
  dimension "d136" = 0.9
  dimension "d137" = 1
  dimension "d138" = 0.9
  dimension "d139" = 1
  dimension "d140" = 0.1
extrude "Extrusion8" add sketch "Sketch7" against normal blind 7
sketch "Sketch8" plane through (25.1, 0, 0) normal (1, 0, 0) x (0, 0, -1)
  line L0 (-0.5, -5.5) -> (0.5, -5.5)
  line L1 (0.5, -5.5) -> (0.5, -9.5)
  line L2 (0.5, -9.5) -> (-0.5, -9.5)
  line L3 (-0.5, -9.5) -> (-0.5, -5.5)
  point P0 (0, 0)
  point P1 (0, -5.5)
  dimension "d143" = 1
  dimension "d144" = 5.5
  dimension "d145" = 4
extrude "Extrusion9" cut sketch "Sketch8" against normal through all
sketch "Sketch9" plane through (-25.1, 43.1, 10.1) normal (0, 0, 1) x (1, 0, 0)
  circle A0 centre (25.1, -49.1) radius 1.6
  circle A1 centre (14.1, -18.1) radius 1.3
  circle A2 centre (14.1, -30.1) radius 1.3
  circle A3 centre (36.1, -18.1) radius 1.3
  circle A4 centre (36.1, -30.1) radius 1.3
  line L0 (0, -52.2) -> (50.2, -52.2) projected
  point P0 (25.1, -43.1)
  dimension "d148" = 3.2
  dimension "d149" = 2.6
  dimension "d150" = 3.1
  dimension "d151" = 11
  dimension "d152" = 11
  dimension "d153" = 22.1
  dimension "d154" = 12
extrude "Extrusion10" cut sketch "Sketch9" against normal through all
equation "\"d155\" = d151"
properties material "ABS Plastic"
